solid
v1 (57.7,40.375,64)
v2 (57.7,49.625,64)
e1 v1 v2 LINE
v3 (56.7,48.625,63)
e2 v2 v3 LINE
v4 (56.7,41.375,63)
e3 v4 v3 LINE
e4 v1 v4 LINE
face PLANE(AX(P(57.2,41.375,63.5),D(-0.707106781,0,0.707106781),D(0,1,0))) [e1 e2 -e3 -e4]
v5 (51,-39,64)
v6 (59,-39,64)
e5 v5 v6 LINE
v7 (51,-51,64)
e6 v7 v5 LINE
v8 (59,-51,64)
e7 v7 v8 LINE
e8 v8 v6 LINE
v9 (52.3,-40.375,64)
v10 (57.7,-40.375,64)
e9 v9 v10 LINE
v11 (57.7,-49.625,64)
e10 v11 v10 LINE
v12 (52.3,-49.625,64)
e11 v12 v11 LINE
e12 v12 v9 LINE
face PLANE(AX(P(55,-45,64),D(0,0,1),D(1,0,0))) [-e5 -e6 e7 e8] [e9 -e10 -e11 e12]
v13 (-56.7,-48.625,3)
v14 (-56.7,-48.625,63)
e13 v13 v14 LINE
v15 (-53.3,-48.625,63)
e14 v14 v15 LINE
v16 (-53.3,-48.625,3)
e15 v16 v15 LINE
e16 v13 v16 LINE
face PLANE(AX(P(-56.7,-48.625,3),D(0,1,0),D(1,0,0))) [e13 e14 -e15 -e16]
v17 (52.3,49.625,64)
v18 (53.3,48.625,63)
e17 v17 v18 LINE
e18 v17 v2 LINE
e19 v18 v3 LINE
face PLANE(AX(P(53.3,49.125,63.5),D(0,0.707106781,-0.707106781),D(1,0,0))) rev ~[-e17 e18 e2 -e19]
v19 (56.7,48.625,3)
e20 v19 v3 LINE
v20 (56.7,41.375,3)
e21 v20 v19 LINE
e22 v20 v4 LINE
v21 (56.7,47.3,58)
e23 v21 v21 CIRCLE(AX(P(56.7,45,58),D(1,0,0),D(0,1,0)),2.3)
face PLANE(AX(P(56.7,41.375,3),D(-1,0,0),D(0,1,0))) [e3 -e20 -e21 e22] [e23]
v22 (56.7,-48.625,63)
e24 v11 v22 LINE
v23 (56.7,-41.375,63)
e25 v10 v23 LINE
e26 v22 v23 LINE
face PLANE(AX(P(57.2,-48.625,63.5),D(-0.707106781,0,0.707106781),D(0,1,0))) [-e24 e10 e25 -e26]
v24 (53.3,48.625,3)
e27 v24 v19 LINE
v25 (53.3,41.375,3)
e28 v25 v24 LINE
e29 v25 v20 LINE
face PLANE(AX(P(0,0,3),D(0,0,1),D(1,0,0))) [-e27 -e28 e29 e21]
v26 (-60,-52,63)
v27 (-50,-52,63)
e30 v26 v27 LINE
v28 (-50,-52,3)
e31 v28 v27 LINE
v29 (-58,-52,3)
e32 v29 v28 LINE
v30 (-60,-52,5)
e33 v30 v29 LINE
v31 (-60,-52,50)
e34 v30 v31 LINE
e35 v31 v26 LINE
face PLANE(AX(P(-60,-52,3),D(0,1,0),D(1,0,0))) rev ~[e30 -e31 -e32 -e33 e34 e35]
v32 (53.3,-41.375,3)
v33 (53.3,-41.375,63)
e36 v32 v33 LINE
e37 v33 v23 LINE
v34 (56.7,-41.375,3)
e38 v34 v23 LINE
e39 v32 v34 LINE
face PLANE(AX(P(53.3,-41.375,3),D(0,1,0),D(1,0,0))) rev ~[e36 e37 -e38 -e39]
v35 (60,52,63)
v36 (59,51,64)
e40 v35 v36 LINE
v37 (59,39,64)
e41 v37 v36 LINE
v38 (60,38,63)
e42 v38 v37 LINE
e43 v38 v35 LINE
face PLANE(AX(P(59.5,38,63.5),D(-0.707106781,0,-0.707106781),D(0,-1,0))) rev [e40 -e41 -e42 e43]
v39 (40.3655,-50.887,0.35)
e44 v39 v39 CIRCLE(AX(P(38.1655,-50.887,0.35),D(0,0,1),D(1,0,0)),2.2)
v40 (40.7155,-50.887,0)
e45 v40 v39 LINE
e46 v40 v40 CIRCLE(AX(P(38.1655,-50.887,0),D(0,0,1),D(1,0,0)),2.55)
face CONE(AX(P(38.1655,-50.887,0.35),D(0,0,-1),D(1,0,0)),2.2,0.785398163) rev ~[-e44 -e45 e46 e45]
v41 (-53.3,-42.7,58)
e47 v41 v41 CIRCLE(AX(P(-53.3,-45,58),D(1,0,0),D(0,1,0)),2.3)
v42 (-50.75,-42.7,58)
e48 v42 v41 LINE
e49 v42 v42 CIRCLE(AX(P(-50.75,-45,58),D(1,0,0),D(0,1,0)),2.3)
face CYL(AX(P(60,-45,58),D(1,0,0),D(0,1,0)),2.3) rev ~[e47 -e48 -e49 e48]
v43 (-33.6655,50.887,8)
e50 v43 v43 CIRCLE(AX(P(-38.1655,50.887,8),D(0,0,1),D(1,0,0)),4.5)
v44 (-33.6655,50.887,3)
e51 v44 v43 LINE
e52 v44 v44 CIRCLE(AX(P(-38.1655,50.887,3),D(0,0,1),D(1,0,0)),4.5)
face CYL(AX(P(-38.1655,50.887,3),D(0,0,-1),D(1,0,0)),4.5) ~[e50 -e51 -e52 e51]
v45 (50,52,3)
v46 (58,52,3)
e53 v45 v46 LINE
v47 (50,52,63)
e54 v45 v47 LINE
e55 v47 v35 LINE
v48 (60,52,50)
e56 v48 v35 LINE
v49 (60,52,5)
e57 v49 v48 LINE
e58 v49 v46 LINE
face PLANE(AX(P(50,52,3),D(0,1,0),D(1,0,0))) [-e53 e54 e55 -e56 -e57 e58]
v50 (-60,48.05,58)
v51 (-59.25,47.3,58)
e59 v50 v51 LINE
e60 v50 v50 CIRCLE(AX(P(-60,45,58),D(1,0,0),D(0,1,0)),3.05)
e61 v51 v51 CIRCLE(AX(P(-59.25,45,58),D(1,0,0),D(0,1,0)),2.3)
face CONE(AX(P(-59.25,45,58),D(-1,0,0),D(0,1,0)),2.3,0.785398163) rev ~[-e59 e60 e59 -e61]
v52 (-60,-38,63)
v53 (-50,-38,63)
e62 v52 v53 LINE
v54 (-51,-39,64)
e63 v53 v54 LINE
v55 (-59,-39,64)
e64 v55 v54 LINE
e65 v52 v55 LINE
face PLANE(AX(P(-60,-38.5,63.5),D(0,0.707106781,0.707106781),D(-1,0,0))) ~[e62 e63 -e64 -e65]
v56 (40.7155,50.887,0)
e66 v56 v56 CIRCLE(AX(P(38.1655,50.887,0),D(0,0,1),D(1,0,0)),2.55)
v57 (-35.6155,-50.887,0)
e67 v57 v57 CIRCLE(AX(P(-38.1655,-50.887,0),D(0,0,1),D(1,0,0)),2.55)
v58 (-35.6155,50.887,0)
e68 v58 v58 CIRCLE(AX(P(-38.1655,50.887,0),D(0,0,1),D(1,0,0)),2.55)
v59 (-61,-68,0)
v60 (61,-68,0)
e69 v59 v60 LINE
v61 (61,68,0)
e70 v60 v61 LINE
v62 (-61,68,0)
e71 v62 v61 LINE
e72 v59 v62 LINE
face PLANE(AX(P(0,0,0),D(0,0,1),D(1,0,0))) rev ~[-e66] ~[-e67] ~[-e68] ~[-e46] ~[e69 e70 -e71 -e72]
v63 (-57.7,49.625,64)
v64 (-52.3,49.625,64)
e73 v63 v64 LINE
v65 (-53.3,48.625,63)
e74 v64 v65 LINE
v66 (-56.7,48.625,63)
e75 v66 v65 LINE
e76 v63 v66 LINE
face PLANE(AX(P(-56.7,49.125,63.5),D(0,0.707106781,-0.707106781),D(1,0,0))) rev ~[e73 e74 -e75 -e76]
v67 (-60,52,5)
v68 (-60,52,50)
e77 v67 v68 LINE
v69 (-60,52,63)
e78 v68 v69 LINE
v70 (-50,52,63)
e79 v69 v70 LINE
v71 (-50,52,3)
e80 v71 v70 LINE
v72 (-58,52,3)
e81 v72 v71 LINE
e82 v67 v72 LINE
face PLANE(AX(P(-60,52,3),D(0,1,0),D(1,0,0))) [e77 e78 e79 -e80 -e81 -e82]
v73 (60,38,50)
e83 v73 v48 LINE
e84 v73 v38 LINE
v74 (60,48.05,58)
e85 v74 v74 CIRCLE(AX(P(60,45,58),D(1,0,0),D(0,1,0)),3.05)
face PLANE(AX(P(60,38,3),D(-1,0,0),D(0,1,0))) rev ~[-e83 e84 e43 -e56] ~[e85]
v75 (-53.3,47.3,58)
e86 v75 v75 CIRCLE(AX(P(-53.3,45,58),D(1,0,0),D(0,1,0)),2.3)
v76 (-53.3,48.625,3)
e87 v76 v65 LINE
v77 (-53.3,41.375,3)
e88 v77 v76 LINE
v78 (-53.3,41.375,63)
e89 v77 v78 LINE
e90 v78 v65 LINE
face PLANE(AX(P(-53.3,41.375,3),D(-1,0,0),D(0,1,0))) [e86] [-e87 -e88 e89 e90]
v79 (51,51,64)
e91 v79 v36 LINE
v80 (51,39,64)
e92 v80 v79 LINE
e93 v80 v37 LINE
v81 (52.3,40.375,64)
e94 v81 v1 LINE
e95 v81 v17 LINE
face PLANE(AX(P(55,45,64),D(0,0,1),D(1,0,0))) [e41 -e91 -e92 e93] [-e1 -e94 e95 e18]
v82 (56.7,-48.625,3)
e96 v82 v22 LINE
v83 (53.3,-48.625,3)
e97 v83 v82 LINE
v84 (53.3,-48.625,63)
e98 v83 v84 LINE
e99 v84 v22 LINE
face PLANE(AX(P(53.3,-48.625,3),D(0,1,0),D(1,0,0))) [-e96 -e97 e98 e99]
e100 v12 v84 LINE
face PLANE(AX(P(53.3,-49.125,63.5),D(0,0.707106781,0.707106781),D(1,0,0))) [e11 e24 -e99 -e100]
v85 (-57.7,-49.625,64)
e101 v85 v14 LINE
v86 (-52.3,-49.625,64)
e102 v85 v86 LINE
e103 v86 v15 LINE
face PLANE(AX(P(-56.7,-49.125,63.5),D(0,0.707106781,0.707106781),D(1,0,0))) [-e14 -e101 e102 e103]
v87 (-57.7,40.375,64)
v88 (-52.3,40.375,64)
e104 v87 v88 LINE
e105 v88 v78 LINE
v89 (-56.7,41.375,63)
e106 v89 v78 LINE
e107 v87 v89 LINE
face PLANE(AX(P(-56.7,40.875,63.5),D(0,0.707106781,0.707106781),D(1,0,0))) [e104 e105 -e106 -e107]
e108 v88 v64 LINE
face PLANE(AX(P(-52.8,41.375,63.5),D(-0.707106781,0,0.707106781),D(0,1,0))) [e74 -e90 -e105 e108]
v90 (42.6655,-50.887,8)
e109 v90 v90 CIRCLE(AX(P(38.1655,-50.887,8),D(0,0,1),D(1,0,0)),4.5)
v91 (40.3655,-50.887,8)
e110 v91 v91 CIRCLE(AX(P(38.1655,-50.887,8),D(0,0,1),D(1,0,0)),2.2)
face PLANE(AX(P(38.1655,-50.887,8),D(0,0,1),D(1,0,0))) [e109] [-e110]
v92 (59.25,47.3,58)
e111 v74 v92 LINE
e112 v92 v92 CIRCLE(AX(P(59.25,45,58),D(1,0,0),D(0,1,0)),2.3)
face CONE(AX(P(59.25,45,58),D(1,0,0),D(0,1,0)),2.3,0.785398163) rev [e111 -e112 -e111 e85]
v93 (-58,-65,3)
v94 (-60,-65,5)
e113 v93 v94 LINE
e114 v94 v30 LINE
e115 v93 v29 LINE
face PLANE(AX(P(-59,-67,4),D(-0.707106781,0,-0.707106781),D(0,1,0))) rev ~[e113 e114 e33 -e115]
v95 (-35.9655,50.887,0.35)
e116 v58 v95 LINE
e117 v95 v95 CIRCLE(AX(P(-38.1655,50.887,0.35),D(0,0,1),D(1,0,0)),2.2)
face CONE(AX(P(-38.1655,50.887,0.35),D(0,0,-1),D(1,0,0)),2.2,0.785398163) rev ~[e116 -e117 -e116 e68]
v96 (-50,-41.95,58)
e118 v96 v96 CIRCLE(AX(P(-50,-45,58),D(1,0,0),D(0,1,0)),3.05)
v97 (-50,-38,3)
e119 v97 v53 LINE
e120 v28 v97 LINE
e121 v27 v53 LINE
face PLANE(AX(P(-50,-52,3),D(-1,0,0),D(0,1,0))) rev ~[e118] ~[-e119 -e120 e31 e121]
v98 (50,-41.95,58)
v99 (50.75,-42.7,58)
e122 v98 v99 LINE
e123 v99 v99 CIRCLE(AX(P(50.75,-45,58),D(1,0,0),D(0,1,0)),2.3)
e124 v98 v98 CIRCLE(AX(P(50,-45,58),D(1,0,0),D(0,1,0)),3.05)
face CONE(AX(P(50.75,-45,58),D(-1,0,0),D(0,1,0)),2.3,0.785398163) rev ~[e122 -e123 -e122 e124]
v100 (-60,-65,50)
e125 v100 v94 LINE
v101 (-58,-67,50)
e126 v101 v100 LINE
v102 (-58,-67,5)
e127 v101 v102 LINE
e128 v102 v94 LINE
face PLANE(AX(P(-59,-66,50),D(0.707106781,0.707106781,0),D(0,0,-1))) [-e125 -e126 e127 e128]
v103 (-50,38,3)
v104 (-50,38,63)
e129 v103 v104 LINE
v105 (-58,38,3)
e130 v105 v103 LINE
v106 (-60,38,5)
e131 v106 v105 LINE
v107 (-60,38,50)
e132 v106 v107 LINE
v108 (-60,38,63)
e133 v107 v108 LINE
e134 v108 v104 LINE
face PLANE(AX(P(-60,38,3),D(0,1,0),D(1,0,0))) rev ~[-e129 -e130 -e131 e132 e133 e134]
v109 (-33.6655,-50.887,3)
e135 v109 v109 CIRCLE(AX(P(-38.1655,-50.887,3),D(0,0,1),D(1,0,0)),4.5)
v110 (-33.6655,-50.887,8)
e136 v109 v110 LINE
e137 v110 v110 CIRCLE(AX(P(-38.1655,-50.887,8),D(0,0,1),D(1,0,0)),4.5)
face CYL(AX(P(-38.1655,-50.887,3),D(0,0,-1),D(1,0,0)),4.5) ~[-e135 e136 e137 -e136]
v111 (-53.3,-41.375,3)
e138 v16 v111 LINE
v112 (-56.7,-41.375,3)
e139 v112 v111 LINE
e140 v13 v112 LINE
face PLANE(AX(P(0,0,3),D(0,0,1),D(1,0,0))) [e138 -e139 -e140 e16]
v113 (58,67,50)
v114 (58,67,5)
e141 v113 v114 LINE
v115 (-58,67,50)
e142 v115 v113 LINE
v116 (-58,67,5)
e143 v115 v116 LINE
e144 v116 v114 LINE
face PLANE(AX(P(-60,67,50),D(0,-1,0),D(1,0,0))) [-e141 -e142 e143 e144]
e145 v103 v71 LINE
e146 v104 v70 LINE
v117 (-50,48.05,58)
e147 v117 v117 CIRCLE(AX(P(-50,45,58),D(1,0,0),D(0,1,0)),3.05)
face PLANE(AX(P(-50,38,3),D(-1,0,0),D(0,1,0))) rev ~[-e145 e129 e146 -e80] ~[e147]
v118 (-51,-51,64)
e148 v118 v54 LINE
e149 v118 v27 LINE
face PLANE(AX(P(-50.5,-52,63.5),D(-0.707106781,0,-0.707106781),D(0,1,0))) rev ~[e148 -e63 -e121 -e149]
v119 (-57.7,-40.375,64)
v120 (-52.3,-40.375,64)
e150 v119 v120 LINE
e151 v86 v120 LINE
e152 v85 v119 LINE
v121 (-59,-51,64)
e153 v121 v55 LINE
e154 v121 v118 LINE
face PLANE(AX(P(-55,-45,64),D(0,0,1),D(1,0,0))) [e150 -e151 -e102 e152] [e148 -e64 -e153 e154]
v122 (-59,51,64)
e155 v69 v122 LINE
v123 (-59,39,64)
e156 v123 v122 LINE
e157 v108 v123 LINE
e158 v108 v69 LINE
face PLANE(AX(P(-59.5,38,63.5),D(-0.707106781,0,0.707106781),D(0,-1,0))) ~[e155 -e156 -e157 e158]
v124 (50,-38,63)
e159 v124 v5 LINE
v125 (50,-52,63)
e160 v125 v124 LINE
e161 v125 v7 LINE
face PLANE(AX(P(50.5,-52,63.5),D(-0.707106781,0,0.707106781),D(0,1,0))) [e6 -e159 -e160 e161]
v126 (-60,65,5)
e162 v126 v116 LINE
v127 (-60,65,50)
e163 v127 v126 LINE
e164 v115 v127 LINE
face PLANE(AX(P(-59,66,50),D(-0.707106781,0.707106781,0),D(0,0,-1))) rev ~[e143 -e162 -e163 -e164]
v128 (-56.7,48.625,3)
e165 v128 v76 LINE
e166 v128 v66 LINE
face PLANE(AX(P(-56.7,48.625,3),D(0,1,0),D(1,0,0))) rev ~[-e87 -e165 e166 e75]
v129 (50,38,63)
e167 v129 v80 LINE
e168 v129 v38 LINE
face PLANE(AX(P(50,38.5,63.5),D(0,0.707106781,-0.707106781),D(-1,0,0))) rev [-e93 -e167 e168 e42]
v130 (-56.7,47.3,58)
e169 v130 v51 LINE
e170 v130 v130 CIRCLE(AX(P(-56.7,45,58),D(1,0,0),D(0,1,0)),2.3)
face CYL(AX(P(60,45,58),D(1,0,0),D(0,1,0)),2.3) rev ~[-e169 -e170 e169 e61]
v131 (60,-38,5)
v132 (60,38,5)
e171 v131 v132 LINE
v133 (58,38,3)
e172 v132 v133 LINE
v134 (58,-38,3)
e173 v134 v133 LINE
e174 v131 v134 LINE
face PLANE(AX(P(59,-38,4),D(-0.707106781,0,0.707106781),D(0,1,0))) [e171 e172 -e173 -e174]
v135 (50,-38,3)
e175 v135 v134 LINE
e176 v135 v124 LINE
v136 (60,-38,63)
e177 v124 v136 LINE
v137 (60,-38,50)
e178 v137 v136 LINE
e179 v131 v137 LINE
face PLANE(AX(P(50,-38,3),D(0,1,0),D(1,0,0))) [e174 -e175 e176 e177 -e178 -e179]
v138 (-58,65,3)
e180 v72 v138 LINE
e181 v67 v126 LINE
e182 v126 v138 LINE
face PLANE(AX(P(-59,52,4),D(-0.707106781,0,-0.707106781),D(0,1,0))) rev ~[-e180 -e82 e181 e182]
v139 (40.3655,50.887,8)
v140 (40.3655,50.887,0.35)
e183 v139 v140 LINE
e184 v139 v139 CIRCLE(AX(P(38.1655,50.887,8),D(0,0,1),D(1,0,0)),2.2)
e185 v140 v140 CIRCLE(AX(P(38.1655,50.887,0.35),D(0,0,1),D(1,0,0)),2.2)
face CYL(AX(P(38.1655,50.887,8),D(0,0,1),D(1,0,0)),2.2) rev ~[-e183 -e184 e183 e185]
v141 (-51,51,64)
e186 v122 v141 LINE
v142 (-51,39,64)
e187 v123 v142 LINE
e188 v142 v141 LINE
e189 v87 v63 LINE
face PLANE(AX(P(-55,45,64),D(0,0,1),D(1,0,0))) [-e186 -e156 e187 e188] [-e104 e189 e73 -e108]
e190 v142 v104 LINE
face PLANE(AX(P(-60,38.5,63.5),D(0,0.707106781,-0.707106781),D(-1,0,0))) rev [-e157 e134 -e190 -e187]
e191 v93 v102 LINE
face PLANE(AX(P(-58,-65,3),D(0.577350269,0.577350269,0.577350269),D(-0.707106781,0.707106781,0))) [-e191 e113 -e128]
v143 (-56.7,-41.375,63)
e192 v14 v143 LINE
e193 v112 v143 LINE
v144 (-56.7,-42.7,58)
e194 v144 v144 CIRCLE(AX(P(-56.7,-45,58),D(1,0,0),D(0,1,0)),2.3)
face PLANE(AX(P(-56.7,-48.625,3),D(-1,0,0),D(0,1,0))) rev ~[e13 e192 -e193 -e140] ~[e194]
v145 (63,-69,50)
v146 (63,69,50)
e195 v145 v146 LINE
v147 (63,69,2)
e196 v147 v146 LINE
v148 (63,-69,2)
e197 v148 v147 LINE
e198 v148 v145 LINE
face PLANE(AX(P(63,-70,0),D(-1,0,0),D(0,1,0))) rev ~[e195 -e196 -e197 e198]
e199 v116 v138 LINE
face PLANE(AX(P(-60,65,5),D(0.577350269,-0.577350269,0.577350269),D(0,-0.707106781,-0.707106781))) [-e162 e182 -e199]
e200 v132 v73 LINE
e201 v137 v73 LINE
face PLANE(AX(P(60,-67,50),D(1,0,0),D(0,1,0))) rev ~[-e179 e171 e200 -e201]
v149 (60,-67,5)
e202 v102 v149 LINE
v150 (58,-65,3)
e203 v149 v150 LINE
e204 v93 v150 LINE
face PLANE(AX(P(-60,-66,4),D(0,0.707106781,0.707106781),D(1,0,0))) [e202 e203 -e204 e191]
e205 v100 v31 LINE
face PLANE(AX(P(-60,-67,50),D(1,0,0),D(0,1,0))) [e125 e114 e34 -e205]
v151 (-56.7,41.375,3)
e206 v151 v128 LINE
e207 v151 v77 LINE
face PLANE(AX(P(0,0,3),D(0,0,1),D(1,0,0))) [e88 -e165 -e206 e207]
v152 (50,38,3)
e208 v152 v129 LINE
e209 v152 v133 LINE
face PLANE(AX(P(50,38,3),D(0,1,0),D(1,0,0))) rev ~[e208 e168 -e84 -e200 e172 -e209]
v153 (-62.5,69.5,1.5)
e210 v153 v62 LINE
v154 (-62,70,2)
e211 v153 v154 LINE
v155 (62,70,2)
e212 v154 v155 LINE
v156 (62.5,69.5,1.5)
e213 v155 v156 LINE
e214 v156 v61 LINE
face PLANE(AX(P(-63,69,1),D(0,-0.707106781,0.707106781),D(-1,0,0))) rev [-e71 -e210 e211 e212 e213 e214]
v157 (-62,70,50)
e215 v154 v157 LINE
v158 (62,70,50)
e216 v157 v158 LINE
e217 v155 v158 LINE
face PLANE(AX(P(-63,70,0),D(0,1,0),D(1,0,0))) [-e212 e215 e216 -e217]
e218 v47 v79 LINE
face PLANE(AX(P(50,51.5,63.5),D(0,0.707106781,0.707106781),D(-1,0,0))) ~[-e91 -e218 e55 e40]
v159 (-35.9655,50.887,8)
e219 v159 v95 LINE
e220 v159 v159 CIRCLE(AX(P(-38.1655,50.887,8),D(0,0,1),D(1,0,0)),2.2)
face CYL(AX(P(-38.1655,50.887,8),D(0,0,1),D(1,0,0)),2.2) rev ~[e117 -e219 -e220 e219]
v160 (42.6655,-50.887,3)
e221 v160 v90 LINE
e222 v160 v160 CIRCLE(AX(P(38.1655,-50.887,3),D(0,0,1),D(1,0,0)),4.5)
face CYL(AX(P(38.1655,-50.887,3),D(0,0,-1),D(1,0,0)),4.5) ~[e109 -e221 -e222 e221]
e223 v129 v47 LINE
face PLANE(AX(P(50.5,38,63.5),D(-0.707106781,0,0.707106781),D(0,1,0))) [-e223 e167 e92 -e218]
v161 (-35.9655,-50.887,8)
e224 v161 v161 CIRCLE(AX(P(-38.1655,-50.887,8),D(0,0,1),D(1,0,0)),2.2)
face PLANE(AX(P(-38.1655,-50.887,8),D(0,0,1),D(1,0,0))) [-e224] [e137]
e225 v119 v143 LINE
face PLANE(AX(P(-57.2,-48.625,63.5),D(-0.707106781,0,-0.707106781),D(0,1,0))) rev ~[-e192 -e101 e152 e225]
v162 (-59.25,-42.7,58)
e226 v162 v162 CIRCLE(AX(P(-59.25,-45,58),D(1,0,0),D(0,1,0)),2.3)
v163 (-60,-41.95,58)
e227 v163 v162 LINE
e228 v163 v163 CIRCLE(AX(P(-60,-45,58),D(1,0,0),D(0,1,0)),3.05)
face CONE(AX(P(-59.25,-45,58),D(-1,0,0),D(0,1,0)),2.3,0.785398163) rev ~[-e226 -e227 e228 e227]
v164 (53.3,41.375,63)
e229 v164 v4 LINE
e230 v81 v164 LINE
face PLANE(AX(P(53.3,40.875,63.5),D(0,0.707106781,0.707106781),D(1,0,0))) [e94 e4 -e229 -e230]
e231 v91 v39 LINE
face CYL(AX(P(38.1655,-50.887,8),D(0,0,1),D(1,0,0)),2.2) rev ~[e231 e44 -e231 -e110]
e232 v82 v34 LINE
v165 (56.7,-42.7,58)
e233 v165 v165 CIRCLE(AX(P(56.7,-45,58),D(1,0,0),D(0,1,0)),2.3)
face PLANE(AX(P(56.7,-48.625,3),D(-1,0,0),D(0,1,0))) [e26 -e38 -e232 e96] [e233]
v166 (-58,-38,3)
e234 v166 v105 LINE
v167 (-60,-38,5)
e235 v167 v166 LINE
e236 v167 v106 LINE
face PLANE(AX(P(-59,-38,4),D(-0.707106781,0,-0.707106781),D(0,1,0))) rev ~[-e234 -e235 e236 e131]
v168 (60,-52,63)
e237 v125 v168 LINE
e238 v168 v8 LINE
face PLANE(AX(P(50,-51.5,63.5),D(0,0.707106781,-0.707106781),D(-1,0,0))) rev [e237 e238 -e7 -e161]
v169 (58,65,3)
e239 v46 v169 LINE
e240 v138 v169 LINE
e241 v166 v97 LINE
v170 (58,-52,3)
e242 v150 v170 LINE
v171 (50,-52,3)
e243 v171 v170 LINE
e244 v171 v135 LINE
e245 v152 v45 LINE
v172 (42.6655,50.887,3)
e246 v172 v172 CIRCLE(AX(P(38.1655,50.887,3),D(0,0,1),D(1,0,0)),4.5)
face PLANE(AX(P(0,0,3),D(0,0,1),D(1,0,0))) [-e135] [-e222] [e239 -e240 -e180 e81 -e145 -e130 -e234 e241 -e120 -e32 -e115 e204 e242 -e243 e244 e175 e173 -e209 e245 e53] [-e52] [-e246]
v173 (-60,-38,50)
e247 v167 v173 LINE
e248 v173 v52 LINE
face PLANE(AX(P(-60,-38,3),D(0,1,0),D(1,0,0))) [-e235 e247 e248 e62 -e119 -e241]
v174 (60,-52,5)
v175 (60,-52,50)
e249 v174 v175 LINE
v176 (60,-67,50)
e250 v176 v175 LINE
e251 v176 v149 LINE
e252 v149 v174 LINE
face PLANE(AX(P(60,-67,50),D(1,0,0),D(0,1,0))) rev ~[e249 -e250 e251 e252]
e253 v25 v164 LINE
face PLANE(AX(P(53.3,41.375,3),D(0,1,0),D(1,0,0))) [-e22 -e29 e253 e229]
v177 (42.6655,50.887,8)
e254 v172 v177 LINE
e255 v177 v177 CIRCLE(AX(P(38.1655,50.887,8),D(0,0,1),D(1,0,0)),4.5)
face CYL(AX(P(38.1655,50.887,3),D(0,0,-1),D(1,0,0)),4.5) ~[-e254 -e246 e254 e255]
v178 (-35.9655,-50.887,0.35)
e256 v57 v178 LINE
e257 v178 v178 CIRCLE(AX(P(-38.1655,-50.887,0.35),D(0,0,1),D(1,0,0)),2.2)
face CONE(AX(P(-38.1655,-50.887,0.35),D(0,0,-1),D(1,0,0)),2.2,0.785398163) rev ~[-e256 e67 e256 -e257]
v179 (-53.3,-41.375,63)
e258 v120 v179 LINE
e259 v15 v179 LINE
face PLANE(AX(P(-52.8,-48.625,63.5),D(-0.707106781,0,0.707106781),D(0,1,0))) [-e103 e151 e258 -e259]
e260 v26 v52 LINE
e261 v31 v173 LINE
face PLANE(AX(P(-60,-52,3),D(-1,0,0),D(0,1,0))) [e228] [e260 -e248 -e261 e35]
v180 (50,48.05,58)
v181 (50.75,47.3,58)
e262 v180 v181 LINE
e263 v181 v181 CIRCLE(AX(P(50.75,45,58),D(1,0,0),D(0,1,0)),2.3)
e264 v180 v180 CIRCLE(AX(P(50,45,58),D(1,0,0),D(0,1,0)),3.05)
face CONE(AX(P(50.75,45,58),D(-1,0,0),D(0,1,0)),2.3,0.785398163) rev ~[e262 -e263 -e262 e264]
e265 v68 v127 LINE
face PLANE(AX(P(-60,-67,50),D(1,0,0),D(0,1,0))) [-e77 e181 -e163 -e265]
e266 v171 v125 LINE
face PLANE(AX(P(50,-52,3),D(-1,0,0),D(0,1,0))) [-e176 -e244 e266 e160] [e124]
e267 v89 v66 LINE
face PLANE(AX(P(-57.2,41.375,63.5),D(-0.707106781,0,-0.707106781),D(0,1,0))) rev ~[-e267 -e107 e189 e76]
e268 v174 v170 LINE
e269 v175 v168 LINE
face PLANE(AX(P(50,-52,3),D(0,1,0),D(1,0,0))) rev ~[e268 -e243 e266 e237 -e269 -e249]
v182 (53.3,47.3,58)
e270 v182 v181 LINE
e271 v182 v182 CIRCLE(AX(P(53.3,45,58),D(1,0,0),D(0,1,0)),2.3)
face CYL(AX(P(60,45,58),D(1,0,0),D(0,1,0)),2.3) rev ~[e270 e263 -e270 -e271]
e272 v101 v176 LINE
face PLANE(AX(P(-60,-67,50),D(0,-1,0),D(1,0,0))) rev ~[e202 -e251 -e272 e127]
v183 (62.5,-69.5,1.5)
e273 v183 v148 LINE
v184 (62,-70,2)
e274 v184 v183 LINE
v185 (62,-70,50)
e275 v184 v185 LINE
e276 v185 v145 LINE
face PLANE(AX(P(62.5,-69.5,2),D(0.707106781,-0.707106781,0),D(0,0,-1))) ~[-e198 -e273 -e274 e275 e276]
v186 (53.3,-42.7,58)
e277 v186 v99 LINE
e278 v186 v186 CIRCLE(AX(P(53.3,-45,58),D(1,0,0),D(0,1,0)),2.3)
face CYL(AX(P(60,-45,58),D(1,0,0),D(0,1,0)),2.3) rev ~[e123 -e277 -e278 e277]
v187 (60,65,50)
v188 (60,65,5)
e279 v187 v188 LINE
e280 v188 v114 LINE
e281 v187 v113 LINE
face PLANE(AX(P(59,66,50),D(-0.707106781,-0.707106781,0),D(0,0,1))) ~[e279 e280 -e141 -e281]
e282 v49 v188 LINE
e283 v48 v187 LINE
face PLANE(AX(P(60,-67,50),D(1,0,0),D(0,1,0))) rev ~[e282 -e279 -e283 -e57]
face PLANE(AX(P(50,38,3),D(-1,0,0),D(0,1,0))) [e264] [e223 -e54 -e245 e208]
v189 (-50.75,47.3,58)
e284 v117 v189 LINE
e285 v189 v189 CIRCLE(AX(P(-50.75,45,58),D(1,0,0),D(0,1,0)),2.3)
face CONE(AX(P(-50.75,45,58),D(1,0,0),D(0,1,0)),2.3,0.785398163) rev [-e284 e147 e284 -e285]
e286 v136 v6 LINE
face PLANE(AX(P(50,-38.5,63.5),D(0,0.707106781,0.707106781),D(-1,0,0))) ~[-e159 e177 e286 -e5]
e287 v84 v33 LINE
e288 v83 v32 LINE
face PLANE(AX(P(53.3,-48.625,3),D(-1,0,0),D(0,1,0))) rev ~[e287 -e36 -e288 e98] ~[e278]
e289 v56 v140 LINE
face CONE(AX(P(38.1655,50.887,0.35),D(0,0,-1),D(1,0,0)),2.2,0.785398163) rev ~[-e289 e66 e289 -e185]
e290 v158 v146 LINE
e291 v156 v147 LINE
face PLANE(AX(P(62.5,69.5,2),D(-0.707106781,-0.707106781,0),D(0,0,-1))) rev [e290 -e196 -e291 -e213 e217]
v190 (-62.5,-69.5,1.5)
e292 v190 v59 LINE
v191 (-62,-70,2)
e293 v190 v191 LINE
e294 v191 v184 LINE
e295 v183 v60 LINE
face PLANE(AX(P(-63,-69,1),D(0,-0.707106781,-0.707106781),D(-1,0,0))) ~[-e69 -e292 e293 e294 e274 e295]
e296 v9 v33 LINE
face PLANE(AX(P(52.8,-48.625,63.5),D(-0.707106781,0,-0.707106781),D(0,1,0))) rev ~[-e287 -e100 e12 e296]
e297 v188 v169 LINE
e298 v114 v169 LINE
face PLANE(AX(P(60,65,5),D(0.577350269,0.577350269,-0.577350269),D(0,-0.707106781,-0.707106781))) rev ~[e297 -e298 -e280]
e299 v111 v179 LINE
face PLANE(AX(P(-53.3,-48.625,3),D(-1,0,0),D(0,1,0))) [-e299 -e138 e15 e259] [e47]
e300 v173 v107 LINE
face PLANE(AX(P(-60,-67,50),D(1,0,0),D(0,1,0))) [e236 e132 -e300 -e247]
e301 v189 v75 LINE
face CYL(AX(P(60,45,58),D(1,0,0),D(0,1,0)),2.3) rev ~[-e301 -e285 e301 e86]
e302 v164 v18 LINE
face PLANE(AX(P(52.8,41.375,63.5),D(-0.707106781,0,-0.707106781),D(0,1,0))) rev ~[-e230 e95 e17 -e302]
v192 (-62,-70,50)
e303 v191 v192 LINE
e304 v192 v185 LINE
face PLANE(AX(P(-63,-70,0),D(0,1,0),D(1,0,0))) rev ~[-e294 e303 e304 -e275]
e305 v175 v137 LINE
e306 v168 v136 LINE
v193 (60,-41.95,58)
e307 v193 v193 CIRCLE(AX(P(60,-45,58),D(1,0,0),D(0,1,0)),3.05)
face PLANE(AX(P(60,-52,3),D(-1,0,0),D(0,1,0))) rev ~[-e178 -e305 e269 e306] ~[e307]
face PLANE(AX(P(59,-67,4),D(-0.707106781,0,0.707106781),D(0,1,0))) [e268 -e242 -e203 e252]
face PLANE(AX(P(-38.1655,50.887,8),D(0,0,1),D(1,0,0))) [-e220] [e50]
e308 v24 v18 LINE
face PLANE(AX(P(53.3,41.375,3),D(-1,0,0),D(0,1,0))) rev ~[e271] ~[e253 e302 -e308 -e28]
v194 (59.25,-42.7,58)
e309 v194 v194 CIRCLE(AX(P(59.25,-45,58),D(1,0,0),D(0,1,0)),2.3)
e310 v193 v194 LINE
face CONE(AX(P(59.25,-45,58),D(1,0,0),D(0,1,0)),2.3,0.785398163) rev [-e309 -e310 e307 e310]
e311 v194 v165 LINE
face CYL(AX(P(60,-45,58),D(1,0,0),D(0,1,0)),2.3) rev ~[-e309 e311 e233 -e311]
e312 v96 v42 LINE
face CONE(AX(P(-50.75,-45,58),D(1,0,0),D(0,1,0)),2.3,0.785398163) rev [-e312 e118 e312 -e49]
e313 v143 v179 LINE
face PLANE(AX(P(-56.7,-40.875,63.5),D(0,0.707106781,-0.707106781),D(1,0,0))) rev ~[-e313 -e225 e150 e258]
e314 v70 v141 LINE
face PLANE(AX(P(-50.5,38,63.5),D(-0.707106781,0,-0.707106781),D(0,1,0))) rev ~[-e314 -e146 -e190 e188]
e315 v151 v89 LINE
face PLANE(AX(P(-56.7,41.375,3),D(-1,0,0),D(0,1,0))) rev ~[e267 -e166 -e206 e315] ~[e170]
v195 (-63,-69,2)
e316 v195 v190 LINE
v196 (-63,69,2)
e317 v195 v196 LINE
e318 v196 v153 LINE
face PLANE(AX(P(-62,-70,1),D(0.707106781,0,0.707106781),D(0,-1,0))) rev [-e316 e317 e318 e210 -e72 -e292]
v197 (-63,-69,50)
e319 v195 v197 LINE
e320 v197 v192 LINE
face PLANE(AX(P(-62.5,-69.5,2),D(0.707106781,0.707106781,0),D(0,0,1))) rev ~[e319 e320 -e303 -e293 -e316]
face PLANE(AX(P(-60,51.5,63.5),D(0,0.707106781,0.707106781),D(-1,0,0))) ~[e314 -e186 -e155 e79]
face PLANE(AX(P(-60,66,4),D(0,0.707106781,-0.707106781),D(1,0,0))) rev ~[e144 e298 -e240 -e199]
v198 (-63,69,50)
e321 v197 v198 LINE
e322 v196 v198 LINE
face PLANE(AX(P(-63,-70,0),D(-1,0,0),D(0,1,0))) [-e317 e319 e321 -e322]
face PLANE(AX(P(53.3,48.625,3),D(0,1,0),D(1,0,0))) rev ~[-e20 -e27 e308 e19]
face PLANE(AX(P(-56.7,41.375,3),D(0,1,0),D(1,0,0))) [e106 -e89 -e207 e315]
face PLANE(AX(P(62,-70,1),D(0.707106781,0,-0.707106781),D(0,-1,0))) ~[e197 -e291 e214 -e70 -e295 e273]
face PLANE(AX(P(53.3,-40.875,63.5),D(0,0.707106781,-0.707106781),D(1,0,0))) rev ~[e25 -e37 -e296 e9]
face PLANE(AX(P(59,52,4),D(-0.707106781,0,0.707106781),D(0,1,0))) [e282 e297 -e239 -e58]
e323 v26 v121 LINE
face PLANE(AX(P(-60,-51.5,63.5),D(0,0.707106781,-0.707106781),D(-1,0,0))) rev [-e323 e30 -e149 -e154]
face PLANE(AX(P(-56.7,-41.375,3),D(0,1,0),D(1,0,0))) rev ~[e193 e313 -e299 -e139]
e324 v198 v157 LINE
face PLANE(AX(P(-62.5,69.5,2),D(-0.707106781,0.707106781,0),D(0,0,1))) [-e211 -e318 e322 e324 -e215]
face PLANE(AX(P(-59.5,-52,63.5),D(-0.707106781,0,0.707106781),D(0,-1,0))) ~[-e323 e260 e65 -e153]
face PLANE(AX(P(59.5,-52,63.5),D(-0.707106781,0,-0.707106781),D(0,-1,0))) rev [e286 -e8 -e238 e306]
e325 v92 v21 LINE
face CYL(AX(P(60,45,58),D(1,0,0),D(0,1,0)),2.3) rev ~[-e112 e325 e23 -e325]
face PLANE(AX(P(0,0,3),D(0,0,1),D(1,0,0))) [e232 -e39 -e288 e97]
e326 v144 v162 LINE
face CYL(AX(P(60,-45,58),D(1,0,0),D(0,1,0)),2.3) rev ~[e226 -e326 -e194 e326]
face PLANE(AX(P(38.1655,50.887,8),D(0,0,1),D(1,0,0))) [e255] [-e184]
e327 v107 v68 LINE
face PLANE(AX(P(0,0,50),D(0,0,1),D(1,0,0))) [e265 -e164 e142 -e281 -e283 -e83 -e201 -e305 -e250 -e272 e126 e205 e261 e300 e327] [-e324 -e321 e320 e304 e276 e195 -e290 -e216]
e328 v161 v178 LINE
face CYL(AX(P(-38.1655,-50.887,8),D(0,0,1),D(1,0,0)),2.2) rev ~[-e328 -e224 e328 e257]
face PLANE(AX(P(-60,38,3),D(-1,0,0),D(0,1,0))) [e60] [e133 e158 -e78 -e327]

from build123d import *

# Parameters (mm, degrees)
SKETCH_W        = 126
SKETCH_H        = 140
PAD_DEPTH       = 50
SKETCH002_W     = 120
SKETCH002_H     = 134
POCKET_DEPTH    = 47
SKETCH001_W     = 10
SKETCH001_H     = 14
SKETCH001_W_2   = 3.4
SKETCH001_H_2   = 7.25
PAD001_DEPTH    = 61
SKETCH003_R     = 2.3
POCKET001_DEPTH = 123.001
SKETCH004_R     = 4.5
PAD002_DEPTH    = 5
SKETCH005_R     = 2.2
POCKET002_DEPTH = 8.001
CHAMFER_SIZE    = 2
CHAMFER001_SIZE = 0.35
CHAMFER002_SIZE = 1
CHAMFER003_SIZE = 0.75
CHAMFER004_SIZE = 1
CHAMFER005_SIZE = 2


with BuildPart() as part:
    # Sketch → Pad (new body)
    with BuildSketch(Plane.XY):
        Rectangle(SKETCH_W, SKETCH_H)
    extrude(amount=PAD_DEPTH)

    # Sketch002 → Pocket (cut)
    with BuildSketch(Plane.XY.offset(50)):
        Rectangle(SKETCH002_W, SKETCH002_H)
    extrude(amount=-POCKET_DEPTH, mode=Mode.SUBTRACT)

    # Sketch001 → Pad001 (new body)
    with BuildSketch(Plane.XY.offset(3)):
        with Locations((-55, 45)):
            Rectangle(SKETCH001_W, SKETCH001_H)
        with Locations((-55, 45)):
            Rectangle(SKETCH001_W_2, SKETCH001_H_2, mode=Mode.SUBTRACT)
        with Locations((55, 45)):
            Rectangle(SKETCH001_W, SKETCH001_H)
        with Locations((55, 45)):
            Rectangle(SKETCH001_W_2, SKETCH001_H_2, mode=Mode.SUBTRACT)
        with Locations((-55, -45)):
            Rectangle(SKETCH001_W, SKETCH001_H)
        with Locations((-55, -45)):
            Rectangle(SKETCH001_W_2, SKETCH001_H_2, mode=Mode.SUBTRACT)
        with Locations((55, -45)):
            Rectangle(SKETCH001_W, SKETCH001_H)
        with Locations((55, -45)):
            Rectangle(SKETCH001_W_2, SKETCH001_H_2, mode=Mode.SUBTRACT)
    extrude(amount=PAD001_DEPTH)

    # Sketch003 → Pocket001 (cut, through all)
    with BuildSketch(Plane.YZ.offset(60)):
        with Locations((-45, 58)):
            Circle(SKETCH003_R)
        with Locations((45, 58)):
            Circle(SKETCH003_R)
    extrude(amount=-POCKET001_DEPTH, mode=Mode.SUBTRACT)

    # Sketch004 → Pad002 (new body)
    with BuildSketch(Plane.XY.offset(3)):
        with Locations((-38.1655, 50.887)):
            Circle(SKETCH004_R)
        with Locations((38.1655, 50.887)):
            Circle(SKETCH004_R)
        with Locations((-38.1655, -50.887)):
            Circle(SKETCH004_R)
        with Locations((38.1655, -50.887)):
            Circle(SKETCH004_R)
    extrude(amount=PAD002_DEPTH)

    # Sketch005 → Pocket002 (cut, through all)
    with BuildSketch(Plane.XY.offset(8)):
        with Locations((-38.1655, 50.887)):
            Circle(SKETCH005_R)
        with Locations((38.1655, 50.887)):
            Circle(SKETCH005_R)
        with Locations((-38.1655, -50.887)):
            Circle(SKETCH005_R)
        with Locations((38.1655, -50.887)):
            Circle(SKETCH005_R)
    extrude(amount=-POCKET002_DEPTH, mode=Mode.SUBTRACT)

    # Chamfer
    chamfer_edges = [part.edges().sort_by_distance(p)[0] for p in [
        (63, 0, 0),
        (0, 70, 0),
        (0, -70, 0),
        (-63, 0, 0),
    ]]
    chamfer(chamfer_edges, length=CHAMFER_SIZE)

    # Chamfer001
    chamfer001_edges = [part.edges().sort_by_distance(p)[0] for p in [
        (-40.3655, -50.887, 0),
        (35.9655, -50.887, 0),
        (35.9655, 50.887, 0),
        (-40.3655, 50.887, 0),
    ]]
    chamfer(chamfer001_edges, length=CHAMFER001_SIZE)

    # Chamfer002
    chamfer002_edges = [part.edges().sort_by_distance(p)[0] for p in [
        (-55, 52, 64),
        (-50, 45, 64),
        (-55, 38, 64),
        (-60, 45, 64),
        (-55, 48.625, 64),
        (-53.3, 45, 64),
        (-55, 41.375, 64),
        (-56.7, 45, 64),
        (-55, -38, 64),
        (-50, -45, 64),
        (-55, -52, 64),
        (-60, -45, 64),
        (-55, -41.375, 64),
        (-53.3, -45, 64),
        (-55, -48.625, 64),
        (-56.7, -45, 64),
        (55, 52, 64),
        (60, 45, 64),
        (55, 38, 64),
        (50, 45, 64),
        (55, 48.625, 64),
        (56.7, 45, 64),
        (55, 41.375, 64),
        (53.3, 45, 64),
        (55, -38, 64),
        (60, -45, 64),
        (55, -52, 64),
        (50, -45, 64),
        (55, -41.375, 64),
        (56.7, -45, 64),
        (55, -48.625, 64),
        (53.3, -45, 64),
    ]]
    chamfer(chamfer002_edges, length=CHAMFER002_SIZE)

    # Chamfer003
    chamfer003_edges = [part.edges().sort_by_distance(p)[0] for p in [
        (-60, 42.7, 58),
        (-60, -47.3, 58),
        (50, -47.3, 58),
        (50, 42.7, 58),
        (-50, 42.7, 58),
        (60, 42.7, 58),
        (60, -47.3, 58),
        (-50, -47.3, 58),
    ]]
    chamfer(chamfer003_edges, length=CHAMFER003_SIZE)

    # Chamfer004
    chamfer004_edges = [part.edges().sort_by_distance(p)[0] for p in [
        (-63, 70, 26),
        (63, 70, 26),
        (63, -70, 26),
        (-63, -70, 26),
    ]]
    chamfer(chamfer004_edges, length=CHAMFER004_SIZE)

    # Chamfer005
    chamfer005_edges = [part.edges().sort_by_distance(p)[0] for p in [
        (-60, -67, 26.5),
        (0, -67, 3),
        (-60, 0, 3),
        (0, 67, 3),
        (60, 0, 3),
        (-60, 67, 26.5),
        (60, 67, 26.5),
        (60, 59.5, 3),
        (-60, 59.5, 3),
        (60, -59.5, 3),
        (-60, -59.5, 3),
    ]]
    chamfer(chamfer005_edges, length=CHAMFER005_SIZE)


solid = part.part
